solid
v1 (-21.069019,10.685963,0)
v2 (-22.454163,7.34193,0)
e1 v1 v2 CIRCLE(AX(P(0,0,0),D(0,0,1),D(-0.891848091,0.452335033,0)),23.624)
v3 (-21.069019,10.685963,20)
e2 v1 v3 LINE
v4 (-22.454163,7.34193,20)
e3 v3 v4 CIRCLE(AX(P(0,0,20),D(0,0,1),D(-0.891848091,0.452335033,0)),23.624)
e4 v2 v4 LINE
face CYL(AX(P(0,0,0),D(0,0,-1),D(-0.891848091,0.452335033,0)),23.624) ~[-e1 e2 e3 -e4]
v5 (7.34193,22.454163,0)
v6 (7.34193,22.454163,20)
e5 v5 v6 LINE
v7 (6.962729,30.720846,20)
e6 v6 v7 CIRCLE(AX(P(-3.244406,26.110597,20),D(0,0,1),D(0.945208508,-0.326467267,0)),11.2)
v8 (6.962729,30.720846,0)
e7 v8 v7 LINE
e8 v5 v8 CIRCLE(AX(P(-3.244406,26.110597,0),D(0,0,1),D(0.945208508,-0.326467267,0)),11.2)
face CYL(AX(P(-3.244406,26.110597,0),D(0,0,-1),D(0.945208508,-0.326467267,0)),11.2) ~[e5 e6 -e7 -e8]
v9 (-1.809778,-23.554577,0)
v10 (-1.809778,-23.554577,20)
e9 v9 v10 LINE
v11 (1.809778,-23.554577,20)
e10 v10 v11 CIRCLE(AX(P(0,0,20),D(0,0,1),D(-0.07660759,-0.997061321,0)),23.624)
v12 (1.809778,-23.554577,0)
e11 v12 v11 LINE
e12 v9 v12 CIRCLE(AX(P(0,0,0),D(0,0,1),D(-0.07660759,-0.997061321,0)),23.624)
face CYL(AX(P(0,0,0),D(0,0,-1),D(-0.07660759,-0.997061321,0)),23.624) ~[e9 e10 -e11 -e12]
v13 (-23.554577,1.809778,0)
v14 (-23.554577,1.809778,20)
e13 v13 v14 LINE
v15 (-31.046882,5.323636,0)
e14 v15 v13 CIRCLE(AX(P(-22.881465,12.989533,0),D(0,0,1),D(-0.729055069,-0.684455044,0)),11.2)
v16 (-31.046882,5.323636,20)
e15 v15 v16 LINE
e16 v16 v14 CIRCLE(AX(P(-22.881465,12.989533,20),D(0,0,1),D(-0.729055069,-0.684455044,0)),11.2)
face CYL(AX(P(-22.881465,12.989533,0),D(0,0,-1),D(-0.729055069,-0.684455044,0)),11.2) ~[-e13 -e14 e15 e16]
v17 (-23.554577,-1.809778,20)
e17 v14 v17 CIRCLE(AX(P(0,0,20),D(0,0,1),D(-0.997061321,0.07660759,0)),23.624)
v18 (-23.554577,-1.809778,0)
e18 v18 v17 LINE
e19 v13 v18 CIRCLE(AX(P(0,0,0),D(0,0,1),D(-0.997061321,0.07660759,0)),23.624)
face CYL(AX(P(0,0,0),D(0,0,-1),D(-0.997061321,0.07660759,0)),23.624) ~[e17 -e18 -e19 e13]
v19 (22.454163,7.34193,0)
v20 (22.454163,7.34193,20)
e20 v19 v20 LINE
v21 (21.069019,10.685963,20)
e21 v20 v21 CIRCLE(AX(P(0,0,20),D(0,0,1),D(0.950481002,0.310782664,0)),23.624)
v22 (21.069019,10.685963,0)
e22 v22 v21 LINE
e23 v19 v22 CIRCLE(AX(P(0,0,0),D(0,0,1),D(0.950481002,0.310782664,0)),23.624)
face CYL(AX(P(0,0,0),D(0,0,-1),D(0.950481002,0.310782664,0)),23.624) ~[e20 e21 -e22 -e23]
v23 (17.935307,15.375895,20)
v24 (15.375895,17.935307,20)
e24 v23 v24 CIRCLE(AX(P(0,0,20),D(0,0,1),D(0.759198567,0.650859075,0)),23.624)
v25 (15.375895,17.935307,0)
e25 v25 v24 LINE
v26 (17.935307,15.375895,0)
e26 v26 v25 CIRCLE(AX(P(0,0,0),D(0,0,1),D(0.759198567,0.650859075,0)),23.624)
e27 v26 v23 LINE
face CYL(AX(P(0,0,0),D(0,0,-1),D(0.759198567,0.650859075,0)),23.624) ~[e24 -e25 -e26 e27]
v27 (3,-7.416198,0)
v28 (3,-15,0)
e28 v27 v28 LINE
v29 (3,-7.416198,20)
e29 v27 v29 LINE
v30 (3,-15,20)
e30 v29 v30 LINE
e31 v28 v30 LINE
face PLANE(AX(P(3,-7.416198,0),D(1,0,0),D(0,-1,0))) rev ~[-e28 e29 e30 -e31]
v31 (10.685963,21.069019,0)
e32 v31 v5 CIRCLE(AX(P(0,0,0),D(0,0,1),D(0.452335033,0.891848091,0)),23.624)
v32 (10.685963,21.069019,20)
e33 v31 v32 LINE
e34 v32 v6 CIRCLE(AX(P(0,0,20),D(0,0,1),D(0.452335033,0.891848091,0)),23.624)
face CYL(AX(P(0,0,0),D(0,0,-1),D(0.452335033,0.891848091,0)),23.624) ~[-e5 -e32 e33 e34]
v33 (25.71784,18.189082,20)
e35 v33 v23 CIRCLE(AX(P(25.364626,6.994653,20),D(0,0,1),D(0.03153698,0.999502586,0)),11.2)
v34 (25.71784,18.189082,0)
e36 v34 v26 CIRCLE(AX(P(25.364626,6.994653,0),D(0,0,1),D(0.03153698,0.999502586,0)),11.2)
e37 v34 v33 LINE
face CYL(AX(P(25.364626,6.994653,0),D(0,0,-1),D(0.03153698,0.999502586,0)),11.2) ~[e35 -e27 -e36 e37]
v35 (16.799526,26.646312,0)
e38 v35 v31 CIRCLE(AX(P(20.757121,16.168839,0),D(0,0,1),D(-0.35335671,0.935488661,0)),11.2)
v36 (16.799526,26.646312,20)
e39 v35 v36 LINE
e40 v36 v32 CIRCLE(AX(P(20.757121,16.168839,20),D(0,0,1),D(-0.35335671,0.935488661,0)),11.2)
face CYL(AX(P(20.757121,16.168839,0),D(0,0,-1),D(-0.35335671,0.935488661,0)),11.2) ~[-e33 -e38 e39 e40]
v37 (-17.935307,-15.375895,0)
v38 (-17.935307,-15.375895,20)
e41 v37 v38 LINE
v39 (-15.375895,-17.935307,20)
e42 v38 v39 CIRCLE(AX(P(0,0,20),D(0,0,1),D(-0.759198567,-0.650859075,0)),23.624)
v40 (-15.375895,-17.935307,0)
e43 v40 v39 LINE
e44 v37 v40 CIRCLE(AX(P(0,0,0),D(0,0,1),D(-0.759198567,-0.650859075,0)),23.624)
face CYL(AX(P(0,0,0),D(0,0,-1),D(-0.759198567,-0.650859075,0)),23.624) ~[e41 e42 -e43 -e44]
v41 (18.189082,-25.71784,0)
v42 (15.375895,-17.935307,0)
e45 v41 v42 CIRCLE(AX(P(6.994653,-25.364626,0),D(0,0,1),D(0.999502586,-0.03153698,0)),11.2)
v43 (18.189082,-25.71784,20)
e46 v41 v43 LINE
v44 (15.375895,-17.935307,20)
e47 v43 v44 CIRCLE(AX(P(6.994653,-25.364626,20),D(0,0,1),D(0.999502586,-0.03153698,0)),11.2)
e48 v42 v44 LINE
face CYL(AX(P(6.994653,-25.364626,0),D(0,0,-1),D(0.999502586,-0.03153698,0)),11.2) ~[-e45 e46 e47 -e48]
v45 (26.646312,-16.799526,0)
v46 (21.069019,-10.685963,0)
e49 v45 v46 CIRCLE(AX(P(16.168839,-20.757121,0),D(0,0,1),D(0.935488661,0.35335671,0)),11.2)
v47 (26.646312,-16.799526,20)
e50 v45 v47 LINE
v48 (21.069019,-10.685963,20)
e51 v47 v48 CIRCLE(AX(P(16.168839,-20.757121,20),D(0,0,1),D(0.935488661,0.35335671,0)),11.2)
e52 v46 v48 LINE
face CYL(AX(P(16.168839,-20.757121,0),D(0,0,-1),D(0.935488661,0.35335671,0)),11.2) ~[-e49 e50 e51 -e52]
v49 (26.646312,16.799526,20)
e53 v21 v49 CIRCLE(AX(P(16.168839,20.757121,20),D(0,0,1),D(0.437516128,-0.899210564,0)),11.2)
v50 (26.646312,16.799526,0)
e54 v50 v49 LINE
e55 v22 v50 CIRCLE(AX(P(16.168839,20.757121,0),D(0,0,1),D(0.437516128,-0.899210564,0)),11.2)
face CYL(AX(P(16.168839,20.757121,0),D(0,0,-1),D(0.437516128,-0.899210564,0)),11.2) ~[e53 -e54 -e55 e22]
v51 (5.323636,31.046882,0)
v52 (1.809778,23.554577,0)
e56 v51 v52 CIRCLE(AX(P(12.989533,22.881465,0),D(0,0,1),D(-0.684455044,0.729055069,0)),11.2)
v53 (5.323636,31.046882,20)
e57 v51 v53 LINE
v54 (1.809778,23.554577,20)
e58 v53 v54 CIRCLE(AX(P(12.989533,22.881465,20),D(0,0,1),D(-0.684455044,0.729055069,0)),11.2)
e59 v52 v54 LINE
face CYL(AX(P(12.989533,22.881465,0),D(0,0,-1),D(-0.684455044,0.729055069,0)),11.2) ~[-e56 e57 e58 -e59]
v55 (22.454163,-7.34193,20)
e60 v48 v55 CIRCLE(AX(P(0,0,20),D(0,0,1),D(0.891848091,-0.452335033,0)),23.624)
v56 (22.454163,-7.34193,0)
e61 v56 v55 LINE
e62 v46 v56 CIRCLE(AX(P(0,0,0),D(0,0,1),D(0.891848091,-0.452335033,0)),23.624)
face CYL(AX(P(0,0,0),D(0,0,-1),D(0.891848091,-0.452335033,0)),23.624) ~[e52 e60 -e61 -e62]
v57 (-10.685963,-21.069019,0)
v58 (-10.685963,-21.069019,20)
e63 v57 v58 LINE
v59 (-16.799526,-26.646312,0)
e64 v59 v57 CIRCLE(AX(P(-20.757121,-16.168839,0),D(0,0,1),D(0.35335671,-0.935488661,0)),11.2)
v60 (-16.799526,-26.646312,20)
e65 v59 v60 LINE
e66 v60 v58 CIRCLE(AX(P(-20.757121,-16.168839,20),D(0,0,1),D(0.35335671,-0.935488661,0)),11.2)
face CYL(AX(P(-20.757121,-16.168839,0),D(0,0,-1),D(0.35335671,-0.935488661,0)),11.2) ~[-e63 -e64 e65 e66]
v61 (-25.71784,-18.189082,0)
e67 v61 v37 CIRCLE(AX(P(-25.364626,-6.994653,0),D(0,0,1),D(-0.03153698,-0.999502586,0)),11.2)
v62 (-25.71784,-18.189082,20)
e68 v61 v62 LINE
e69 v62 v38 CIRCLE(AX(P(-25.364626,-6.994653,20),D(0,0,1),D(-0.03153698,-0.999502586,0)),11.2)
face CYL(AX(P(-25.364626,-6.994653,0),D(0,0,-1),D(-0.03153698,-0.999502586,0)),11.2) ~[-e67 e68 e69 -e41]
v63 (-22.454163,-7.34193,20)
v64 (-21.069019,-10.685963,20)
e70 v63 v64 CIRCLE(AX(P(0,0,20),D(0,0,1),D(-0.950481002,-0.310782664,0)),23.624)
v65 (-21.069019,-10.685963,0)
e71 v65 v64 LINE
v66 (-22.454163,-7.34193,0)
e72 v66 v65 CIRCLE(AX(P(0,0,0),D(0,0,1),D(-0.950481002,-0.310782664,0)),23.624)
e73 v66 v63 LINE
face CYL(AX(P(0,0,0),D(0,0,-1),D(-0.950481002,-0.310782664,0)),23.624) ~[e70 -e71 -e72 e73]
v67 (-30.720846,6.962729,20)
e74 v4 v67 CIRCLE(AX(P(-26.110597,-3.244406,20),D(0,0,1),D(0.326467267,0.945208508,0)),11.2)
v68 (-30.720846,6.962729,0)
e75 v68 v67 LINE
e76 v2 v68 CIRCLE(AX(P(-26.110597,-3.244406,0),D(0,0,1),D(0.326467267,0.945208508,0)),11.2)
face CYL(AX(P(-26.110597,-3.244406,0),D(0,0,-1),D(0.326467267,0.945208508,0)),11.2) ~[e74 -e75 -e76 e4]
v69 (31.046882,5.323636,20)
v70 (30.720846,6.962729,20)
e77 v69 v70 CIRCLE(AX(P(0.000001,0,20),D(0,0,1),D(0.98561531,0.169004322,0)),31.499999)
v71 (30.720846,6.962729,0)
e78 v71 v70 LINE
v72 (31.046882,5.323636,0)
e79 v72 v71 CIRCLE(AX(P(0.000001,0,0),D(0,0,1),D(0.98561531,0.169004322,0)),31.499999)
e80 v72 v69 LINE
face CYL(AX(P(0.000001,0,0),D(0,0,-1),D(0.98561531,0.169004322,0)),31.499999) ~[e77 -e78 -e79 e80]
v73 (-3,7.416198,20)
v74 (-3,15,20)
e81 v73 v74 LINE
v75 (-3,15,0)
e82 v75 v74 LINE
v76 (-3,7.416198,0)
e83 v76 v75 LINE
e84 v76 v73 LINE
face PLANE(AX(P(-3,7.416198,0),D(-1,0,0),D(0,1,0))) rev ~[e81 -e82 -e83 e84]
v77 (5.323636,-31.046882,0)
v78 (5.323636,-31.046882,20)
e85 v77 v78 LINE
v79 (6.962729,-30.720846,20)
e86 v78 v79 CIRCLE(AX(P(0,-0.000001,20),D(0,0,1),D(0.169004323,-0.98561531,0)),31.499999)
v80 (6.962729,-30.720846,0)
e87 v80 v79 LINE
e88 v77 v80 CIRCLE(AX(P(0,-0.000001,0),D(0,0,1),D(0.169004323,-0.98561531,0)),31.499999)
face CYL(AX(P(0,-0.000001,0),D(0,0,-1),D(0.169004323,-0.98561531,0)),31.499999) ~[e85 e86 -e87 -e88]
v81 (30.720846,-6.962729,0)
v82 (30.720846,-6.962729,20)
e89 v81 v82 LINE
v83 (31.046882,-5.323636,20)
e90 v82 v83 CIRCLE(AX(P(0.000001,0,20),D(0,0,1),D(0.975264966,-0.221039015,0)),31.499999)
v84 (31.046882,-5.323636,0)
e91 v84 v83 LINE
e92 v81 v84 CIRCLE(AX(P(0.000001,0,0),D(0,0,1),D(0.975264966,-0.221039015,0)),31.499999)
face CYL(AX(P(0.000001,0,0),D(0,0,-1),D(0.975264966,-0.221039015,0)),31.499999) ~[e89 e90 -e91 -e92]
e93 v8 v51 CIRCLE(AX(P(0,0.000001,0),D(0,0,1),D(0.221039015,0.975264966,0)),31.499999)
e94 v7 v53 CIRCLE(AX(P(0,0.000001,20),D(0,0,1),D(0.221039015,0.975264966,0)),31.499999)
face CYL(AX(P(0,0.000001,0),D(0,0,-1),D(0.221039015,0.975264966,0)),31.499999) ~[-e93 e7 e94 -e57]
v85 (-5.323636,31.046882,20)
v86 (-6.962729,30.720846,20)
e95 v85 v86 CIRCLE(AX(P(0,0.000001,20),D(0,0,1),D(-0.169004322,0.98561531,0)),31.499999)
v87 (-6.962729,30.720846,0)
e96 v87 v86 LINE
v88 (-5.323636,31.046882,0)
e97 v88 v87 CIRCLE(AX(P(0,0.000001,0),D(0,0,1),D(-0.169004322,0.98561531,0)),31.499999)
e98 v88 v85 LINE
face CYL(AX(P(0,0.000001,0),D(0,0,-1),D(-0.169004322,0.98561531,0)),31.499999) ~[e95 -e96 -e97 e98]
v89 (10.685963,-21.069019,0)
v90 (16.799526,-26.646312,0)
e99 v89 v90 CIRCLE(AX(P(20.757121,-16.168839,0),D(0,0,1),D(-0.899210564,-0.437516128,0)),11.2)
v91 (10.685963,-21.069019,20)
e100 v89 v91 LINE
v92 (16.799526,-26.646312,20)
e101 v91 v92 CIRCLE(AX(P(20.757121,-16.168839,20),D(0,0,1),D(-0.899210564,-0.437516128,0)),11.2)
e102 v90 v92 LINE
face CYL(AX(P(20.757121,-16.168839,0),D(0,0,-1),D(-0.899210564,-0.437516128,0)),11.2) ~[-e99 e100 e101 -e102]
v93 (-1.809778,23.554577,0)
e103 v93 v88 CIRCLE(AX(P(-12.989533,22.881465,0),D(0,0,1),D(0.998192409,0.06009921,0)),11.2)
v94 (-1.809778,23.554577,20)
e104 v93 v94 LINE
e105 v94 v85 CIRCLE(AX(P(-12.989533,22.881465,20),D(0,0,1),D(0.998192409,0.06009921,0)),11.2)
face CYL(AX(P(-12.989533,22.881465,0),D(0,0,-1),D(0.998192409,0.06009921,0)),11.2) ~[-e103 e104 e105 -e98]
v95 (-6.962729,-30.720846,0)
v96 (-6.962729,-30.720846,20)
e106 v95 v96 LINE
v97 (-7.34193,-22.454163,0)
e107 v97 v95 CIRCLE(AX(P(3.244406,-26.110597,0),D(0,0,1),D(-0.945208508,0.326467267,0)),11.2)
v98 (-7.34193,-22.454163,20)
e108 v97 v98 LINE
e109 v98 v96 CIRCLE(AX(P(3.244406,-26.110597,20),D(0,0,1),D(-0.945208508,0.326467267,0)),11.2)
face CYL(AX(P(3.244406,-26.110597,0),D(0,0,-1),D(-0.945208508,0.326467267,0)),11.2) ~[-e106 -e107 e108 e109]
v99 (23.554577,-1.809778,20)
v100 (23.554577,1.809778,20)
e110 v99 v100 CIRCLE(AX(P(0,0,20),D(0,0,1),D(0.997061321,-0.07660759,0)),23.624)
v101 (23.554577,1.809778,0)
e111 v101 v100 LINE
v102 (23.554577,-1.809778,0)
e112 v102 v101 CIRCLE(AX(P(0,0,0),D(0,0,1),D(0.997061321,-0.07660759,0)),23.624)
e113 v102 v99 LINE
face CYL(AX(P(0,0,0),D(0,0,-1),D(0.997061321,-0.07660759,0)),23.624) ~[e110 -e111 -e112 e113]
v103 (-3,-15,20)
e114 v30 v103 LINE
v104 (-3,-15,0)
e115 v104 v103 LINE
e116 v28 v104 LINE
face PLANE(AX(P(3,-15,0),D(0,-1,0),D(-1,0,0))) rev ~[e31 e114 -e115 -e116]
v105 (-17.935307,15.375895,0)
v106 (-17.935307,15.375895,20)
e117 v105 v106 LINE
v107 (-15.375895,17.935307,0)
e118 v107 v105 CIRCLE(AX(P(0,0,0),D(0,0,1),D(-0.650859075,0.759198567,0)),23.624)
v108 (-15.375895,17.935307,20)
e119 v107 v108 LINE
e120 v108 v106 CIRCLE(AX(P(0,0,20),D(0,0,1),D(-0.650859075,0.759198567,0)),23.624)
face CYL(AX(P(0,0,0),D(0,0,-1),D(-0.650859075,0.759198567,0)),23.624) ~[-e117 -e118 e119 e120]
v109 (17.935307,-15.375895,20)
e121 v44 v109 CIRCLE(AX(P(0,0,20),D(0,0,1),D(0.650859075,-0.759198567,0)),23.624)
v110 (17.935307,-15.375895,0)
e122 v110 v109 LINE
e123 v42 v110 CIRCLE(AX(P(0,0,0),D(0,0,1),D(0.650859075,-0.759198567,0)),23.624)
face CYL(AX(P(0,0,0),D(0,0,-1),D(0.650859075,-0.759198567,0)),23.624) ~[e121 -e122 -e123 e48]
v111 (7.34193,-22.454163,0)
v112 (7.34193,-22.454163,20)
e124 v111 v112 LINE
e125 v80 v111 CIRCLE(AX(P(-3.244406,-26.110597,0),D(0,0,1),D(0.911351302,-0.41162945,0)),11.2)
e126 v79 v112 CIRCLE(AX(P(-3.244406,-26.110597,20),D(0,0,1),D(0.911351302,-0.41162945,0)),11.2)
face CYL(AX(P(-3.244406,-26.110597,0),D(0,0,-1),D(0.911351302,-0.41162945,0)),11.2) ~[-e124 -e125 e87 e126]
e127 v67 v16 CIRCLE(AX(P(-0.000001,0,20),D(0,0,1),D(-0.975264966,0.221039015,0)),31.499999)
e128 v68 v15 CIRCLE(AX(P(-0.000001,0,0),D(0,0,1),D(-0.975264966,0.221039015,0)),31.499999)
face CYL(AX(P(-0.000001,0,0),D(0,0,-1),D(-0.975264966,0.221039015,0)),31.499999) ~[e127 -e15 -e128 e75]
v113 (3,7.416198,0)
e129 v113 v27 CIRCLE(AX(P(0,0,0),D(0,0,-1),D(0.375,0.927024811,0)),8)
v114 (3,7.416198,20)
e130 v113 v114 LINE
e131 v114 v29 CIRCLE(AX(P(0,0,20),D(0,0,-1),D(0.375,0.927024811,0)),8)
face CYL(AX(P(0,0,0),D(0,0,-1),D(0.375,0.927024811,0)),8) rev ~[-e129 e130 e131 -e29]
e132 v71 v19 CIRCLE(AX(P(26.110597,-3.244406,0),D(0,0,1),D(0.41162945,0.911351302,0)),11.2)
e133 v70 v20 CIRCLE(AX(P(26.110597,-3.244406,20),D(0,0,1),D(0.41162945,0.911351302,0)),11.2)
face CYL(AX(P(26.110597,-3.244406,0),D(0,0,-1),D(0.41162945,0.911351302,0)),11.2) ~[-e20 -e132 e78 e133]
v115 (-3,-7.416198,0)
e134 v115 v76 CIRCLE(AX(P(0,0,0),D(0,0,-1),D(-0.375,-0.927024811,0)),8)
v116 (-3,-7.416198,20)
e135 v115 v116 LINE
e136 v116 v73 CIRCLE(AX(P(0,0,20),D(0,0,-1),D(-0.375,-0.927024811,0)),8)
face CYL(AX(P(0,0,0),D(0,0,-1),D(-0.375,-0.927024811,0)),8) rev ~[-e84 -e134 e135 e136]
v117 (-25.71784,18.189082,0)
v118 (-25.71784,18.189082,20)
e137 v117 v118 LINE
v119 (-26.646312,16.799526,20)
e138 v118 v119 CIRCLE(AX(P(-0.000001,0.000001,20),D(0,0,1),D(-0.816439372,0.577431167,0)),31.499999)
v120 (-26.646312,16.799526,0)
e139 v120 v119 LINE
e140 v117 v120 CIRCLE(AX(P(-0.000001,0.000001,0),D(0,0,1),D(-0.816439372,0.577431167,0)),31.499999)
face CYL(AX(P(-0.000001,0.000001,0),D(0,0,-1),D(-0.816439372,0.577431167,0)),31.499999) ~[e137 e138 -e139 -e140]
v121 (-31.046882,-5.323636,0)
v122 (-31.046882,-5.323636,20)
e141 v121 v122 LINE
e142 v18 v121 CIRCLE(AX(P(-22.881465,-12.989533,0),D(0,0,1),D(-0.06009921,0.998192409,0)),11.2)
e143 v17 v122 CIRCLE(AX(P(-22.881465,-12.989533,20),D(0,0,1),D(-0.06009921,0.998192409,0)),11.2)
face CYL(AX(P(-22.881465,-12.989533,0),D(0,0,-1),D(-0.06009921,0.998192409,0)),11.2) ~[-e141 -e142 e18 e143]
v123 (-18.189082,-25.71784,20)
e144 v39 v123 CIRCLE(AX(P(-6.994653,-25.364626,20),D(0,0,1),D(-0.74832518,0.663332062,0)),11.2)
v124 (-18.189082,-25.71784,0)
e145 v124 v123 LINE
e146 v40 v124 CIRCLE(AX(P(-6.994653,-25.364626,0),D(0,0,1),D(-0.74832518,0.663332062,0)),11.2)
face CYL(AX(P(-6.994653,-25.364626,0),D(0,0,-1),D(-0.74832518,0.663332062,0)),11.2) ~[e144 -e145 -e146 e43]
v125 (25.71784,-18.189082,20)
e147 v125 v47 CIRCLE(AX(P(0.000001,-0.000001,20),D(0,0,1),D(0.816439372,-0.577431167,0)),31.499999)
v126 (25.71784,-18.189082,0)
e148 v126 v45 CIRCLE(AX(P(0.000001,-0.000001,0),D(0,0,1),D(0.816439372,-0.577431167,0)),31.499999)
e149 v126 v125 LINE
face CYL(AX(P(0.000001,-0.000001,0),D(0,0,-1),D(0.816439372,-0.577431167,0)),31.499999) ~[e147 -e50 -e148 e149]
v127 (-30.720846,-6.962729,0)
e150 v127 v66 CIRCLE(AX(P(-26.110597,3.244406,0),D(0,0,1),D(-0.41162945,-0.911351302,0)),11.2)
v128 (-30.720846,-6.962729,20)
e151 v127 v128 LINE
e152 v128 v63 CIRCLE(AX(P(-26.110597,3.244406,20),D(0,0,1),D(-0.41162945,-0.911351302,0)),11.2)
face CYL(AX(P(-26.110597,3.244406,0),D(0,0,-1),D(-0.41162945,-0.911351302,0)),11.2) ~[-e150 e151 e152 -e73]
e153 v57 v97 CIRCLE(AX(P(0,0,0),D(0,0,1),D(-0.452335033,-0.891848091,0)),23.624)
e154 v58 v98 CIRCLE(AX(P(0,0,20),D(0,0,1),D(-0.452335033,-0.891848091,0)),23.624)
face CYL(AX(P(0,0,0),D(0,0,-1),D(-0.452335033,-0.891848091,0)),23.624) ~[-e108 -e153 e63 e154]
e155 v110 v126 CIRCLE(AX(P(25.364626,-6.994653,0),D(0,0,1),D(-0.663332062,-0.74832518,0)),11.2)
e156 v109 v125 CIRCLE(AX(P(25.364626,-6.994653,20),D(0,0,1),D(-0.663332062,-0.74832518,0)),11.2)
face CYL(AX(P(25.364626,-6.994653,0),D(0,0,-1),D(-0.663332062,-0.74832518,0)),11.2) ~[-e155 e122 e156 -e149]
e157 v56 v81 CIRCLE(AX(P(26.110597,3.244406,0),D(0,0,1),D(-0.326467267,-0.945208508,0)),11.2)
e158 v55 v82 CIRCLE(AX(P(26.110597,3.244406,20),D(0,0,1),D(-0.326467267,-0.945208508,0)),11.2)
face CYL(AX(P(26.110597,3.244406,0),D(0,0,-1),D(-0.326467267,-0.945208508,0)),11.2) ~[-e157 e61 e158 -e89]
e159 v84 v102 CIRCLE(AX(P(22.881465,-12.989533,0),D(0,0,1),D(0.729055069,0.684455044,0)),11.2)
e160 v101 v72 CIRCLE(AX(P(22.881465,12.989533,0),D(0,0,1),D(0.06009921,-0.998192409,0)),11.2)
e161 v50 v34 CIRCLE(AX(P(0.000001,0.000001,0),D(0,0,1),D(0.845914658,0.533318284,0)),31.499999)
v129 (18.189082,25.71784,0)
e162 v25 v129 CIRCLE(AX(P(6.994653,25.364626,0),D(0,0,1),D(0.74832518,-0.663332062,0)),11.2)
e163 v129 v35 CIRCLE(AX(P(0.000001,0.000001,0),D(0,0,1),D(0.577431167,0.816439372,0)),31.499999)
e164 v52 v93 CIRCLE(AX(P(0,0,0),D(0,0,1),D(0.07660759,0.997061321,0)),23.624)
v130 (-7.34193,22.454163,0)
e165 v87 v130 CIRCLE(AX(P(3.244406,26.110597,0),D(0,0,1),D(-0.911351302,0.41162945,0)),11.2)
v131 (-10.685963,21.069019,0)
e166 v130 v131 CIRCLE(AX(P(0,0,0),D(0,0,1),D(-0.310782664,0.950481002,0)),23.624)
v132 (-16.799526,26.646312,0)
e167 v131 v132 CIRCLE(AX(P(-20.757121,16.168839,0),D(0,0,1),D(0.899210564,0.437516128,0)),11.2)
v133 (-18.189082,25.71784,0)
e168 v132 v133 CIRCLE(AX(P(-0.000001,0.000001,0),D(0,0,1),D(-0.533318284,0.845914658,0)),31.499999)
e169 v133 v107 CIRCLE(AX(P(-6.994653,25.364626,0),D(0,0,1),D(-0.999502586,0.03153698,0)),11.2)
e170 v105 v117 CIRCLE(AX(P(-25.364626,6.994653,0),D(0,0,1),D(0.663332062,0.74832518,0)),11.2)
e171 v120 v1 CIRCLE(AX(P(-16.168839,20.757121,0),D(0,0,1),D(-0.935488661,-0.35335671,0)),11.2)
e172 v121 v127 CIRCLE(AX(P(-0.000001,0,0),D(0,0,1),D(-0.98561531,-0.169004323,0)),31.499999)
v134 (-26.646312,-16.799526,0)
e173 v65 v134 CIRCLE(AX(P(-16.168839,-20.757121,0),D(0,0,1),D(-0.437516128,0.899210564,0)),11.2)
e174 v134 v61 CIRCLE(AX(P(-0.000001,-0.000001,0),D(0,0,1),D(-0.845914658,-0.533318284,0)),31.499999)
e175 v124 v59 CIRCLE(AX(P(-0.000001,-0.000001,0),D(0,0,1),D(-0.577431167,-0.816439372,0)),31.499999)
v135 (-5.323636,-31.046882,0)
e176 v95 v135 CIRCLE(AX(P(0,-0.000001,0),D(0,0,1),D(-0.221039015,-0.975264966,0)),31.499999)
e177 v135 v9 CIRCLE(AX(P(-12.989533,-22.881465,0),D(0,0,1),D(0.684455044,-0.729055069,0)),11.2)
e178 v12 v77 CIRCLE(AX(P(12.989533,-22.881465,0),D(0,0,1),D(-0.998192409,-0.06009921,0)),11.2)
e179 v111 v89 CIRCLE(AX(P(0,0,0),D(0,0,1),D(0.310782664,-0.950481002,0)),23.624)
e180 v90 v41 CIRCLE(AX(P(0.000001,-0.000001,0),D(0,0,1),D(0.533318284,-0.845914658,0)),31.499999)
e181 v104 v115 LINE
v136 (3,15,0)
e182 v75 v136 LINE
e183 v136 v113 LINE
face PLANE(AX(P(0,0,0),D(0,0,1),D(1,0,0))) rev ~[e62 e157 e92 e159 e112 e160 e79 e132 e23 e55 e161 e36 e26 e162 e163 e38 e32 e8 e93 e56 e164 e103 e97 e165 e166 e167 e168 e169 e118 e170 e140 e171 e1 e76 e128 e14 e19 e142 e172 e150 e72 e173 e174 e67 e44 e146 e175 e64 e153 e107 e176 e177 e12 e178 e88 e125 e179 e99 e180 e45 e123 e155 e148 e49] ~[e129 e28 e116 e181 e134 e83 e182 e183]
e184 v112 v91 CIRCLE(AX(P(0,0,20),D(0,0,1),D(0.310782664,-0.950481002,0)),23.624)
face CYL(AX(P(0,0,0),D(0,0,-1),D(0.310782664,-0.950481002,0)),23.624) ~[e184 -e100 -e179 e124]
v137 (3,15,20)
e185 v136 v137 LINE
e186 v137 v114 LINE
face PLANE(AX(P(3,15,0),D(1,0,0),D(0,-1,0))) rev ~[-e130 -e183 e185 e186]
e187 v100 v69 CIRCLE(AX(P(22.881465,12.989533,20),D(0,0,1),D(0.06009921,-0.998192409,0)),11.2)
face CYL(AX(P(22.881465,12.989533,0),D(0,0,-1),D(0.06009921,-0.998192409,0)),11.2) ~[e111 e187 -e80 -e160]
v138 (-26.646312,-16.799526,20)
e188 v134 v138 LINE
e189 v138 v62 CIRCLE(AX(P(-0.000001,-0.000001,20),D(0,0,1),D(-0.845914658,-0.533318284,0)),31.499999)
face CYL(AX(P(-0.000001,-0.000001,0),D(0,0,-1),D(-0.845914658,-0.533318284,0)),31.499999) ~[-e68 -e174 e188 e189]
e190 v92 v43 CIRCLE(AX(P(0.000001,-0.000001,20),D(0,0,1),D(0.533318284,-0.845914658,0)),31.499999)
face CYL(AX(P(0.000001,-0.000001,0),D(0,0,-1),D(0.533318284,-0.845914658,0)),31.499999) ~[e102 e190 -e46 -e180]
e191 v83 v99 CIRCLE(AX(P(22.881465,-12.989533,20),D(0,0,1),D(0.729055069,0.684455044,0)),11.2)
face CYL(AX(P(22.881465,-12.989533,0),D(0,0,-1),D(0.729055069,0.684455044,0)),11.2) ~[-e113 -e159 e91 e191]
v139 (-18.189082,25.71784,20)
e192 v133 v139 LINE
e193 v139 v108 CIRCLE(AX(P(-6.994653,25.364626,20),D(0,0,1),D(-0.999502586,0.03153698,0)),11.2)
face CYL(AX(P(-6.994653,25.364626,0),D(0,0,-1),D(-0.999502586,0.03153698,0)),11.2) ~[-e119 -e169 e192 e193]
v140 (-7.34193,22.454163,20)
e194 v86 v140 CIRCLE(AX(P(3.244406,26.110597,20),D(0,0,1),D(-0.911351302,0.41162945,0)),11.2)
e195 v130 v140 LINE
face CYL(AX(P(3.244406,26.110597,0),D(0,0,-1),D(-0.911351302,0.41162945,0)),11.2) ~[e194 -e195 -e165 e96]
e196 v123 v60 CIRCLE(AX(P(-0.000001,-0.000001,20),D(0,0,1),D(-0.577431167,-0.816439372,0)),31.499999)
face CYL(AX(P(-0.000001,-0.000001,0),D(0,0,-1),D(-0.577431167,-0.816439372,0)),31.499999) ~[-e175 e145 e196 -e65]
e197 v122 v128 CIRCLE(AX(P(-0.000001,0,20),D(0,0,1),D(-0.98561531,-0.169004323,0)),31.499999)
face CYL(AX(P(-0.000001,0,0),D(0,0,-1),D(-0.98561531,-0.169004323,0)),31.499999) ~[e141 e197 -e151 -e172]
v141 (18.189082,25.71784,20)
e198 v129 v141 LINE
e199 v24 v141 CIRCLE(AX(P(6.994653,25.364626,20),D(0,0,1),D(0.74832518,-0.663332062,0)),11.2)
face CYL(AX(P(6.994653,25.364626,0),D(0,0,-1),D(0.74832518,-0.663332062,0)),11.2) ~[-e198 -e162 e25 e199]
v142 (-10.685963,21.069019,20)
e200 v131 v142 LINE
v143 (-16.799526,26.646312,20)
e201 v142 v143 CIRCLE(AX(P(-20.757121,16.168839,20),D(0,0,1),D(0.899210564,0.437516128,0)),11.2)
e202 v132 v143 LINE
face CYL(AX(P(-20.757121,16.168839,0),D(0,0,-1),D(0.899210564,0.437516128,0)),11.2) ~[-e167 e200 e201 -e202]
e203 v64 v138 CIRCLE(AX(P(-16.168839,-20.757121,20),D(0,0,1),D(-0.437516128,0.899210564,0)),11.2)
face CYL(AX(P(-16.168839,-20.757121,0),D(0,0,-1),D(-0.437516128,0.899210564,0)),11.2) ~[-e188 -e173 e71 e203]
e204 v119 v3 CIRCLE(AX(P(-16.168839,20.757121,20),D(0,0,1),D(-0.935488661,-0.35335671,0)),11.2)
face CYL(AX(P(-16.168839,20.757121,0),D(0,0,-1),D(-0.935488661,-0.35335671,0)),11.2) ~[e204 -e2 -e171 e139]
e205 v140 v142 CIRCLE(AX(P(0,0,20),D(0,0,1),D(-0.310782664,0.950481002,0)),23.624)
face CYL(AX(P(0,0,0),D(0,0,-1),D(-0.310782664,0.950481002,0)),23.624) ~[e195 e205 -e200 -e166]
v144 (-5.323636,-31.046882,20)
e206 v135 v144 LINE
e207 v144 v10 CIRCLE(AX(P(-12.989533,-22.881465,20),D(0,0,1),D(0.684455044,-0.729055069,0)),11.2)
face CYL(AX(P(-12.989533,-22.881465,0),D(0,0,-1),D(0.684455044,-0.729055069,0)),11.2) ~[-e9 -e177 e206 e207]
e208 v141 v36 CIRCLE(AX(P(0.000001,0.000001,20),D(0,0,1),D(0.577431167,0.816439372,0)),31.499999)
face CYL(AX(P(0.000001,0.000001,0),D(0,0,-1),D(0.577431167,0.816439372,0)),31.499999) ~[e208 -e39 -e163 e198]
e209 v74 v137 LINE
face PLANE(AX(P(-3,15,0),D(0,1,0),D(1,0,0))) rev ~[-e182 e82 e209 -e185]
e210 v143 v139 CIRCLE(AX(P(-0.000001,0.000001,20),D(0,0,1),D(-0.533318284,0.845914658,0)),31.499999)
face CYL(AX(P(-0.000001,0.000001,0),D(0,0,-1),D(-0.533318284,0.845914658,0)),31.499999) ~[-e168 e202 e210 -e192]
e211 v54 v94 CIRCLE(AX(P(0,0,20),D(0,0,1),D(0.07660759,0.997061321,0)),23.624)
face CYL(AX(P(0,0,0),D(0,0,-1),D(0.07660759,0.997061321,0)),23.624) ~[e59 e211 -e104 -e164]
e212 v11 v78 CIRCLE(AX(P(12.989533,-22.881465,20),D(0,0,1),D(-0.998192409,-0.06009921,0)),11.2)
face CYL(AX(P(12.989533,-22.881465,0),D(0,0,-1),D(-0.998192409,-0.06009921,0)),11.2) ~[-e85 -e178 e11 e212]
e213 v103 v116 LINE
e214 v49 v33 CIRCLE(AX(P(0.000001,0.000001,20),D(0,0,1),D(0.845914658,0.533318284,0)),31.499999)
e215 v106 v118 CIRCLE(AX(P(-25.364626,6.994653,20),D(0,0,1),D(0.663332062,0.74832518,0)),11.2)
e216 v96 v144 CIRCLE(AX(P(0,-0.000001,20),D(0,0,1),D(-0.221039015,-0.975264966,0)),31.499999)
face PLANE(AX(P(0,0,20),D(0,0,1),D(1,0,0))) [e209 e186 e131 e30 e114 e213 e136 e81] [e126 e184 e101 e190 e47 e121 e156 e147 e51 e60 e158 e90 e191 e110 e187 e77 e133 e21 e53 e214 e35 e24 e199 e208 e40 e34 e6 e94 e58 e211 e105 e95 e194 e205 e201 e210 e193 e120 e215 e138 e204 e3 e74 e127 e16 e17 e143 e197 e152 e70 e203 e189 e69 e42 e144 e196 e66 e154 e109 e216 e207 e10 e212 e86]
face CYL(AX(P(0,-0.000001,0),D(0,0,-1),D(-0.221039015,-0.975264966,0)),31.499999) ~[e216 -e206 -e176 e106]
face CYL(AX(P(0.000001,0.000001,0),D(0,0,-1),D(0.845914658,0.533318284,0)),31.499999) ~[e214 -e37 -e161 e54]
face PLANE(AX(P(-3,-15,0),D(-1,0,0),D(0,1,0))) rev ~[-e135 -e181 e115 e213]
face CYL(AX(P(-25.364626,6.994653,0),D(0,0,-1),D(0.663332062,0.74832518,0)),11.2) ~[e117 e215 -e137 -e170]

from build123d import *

# Parameters (mm, degrees)
BOSS_EXTRUDE1_DEPTH = 20


with BuildPart() as part:
    # Sketch1 → Boss-Extrude1 (new body)
    with BuildSketch(Plane.XY):
        with BuildLine():
            ThreePointArc((-31.046882255, 5.323636185), (-27.637166731, 2.849349951), (-23.55457664, 1.809777696))
            ThreePointArc((-23.55457664, 1.809777696), (-23.624, 0), (-23.55457664, -1.809777696))
            ThreePointArc((-23.55457664, -1.809777696), (-27.637166731, -2.849349951), (-31.046882255, -5.323636185))
            ThreePointArc((-31.046882255, -5.323636185), (-30.894736333, -6.145345143), (-30.720846432, -6.962728956))
            ThreePointArc((-30.720846432, -6.962728956), (-26.623811699, -7.943829725), (-22.454163195, -7.341929665))
            ThreePointArc((-22.454163195, -7.341929665), (-21.825730076, -9.040513406), (-21.069019314, -10.685962808))
            ThreePointArc((-21.069019314, -10.685962808), (-24.44301366, -13.208741926), (-26.646311696, -16.799525975))
            ThreePointArc((-26.646311696, -16.799525975), (-26.191292788, -17.50046234), (-25.717840224, -18.189081731))
            ThreePointArc((-25.717840224, -18.189081731), (-21.55722268, -17.527633336), (-17.935306952, -15.375894789))
            ThreePointArc((-17.935306952, -15.375894789), (-16.704690599, -16.704690599), (-15.375894789, -17.935306951))
            ThreePointArc((-15.375894789, -17.935306951), (-17.527633336, -21.55722268), (-18.189081731, -25.717840224))
            ThreePointArc((-18.189081731, -25.717840224), (-17.50046234, -26.191292788), (-16.799525975, -26.646311696))
            ThreePointArc((-16.799525975, -26.646311696), (-13.208741926, -24.44301366), (-10.685962808, -21.069019314))
            ThreePointArc((-10.685962808, -21.069019314), (-9.040513406, -21.825730076), (-7.341929665, -22.454163195))
            ThreePointArc((-7.341929665, -22.454163195), (-7.943829725, -26.623811699), (-6.962728956, -30.720846432))
            ThreePointArc((-6.962728956, -30.720846432), (-6.145345144, -30.894736333), (-5.323636185, -31.046882255))
            ThreePointArc((-5.323636185, -31.046882255), (-2.849349951, -27.637166731), (-1.809777696, -23.55457664))
            ThreePointArc((-1.809777696, -23.55457664), (0, -23.624), (1.809777696, -23.55457664))
            ThreePointArc((1.809777696, -23.55457664), (2.849349951, -27.637166731), (5.323636185, -31.046882255))
            ThreePointArc((5.323636185, -31.046882255), (6.145345143, -30.894736333), (6.962728956, -30.720846432))
            ThreePointArc((6.962728956, -30.720846432), (7.943829725, -26.623811699), (7.341929665, -22.454163195))
            ThreePointArc((7.341929665, -22.454163195), (9.040513406, -21.825730076), (10.685962808, -21.069019314))
            ThreePointArc((10.685962808, -21.069019314), (13.208741926, -24.44301366), (16.799525975, -26.646311696))
            ThreePointArc((16.799525975, -26.646311696), (17.50046234, -26.191292788), (18.189081731, -25.717840224))
            ThreePointArc((18.189081731, -25.717840224), (17.527633336, -21.55722268), (15.375894789, -17.935306952))
            ThreePointArc((15.375894789, -17.935306952), (16.704690599, -16.704690599), (17.935306952, -15.375894789))
            ThreePointArc((17.935306952, -15.375894789), (21.55722268, -17.527633336), (25.717840224, -18.189081731))
            ThreePointArc((25.717840224, -18.189081731), (26.191292788, -17.50046234), (26.646311696, -16.799525975))
            ThreePointArc((26.646311696, -16.799525975), (24.44301366, -13.208741926), (21.069019314, -10.685962808))
            ThreePointArc((21.069019314, -10.685962808), (21.825730076, -9.040513406), (22.454163195, -7.341929665))
            ThreePointArc((22.454163195, -7.341929665), (26.623811699, -7.943829725), (30.720846432, -6.962728956))
            ThreePointArc((30.720846432, -6.962728956), (30.894736333, -6.145345144), (31.046882255, -5.323636185))
            ThreePointArc((31.046882255, -5.323636185), (27.637166731, -2.849349951), (23.55457664, -1.809777696))
            ThreePointArc((23.55457664, -1.809777696), (23.624, 0), (23.55457664, 1.809777696))
            ThreePointArc((23.55457664, 1.809777696), (27.637166731, 2.849349951), (31.046882255, 5.323636185))
            ThreePointArc((31.046882255, 5.323636185), (30.894736333, 6.145345144), (30.720846432, 6.962728956))
            ThreePointArc((30.720846432, 6.962728956), (26.623811699, 7.943829725), (22.454163195, 7.341929665))
            ThreePointArc((22.454163195, 7.341929665), (21.825730076, 9.040513406), (21.069019314, 10.685962808))
            ThreePointArc((21.069019314, 10.685962808), (24.44301366, 13.208741926), (26.646311696, 16.799525975))
            ThreePointArc((26.646311696, 16.799525975), (26.191292788, 17.50046234), (25.717840224, 18.189081731))
            ThreePointArc((25.717840224, 18.189081731), (21.55722268, 17.527633336), (17.935306951, 15.375894789))
            ThreePointArc((17.935306951, 15.375894789), (16.704690599, 16.704690599), (15.375894789, 17.935306952))
            ThreePointArc((15.375894789, 17.935306952), (17.527633336, 21.55722268), (18.189081731, 25.717840224))
            ThreePointArc((18.189081731, 25.717840224), (17.50046234, 26.191292788), (16.799525975, 26.646311696))
            ThreePointArc((16.799525975, 26.646311696), (13.208741926, 24.44301366), (10.685962808, 21.069019314))
            ThreePointArc((10.685962808, 21.069019314), (9.040513406, 21.825730076), (7.341929665, 22.454163195))
            ThreePointArc((7.341929665, 22.454163195), (7.943829725, 26.623811699), (6.962728956, 30.720846432))
            ThreePointArc((6.962728956, 30.720846432), (6.145345144, 30.894736333), (5.323636185, 31.046882255))
            ThreePointArc((5.323636185, 31.046882255), (2.849349951, 27.637166731), (1.809777696, 23.55457664))
            ThreePointArc((1.809777696, 23.55457664), (0, 23.624), (-1.809777696, 23.55457664))
            ThreePointArc((-1.809777696, 23.55457664), (-2.849349951, 27.637166731), (-5.323636185, 31.046882255))
            ThreePointArc((-5.323636185, 31.046882255), (-6.145345144, 30.894736333), (-6.962728956, 30.720846432))
            ThreePointArc((-6.962728956, 30.720846432), (-7.943829725, 26.623811699), (-7.341929665, 22.454163195))
            ThreePointArc((-7.341929665, 22.454163195), (-9.040513406, 21.825730076), (-10.685962808, 21.069019314))
            ThreePointArc((-10.685962808, 21.069019314), (-13.208741926, 24.44301366), (-16.799525975, 26.646311696))
            ThreePointArc((-16.799525975, 26.646311696), (-17.50046234, 26.191292788), (-18.189081731, 25.717840224))
            ThreePointArc((-18.189081731, 25.717840224), (-17.527633336, 21.55722268), (-15.375894789, 17.935306952))
            ThreePointArc((-15.375894789, 17.935306952), (-16.704690599, 16.704690599), (-17.935306952, 15.375894789))
            ThreePointArc((-17.935306952, 15.375894789), (-21.55722268, 17.527633336), (-25.717840224, 18.189081731))
            ThreePointArc((-25.717840224, 18.189081731), (-26.191292788, 17.50046234), (-26.646311696, 16.799525975))
            ThreePointArc((-26.646311696, 16.799525975), (-24.44301366, 13.208741926), (-21.069019314, 10.685962808))
            ThreePointArc((-21.069019314, 10.685962808), (-21.825730076, 9.040513406), (-22.454163195, 7.341929665))
            ThreePointArc((-22.454163195, 7.341929665), (-26.623811699, 7.943829725), (-30.720846432, 6.962728956))
            ThreePointArc((-30.720846432, 6.962728956), (-30.894736333, 6.145345144), (-31.046882255, 5.323636185))
        make_face()
        with BuildLine():
            Line((-3, 15), (3, 15))
            Line((3, 15), (3, 7.416198487))
            ThreePointArc((3, 7.416198487), (8, 0), (3, -7.416198487))
            Line((3, -7.416198487), (3, -15))
            Line((3, -15), (-3, -15))
            Line((-3, -15), (-3, -7.416198487))
            ThreePointArc((-3, -7.416198487), (-8, 0), (-3, 7.416198487))
            Line((-3, 7.416198487), (-3, 15))
        make_face(mode=Mode.SUBTRACT)
    extrude(amount=BOSS_EXTRUDE1_DEPTH)


solid = part.part
